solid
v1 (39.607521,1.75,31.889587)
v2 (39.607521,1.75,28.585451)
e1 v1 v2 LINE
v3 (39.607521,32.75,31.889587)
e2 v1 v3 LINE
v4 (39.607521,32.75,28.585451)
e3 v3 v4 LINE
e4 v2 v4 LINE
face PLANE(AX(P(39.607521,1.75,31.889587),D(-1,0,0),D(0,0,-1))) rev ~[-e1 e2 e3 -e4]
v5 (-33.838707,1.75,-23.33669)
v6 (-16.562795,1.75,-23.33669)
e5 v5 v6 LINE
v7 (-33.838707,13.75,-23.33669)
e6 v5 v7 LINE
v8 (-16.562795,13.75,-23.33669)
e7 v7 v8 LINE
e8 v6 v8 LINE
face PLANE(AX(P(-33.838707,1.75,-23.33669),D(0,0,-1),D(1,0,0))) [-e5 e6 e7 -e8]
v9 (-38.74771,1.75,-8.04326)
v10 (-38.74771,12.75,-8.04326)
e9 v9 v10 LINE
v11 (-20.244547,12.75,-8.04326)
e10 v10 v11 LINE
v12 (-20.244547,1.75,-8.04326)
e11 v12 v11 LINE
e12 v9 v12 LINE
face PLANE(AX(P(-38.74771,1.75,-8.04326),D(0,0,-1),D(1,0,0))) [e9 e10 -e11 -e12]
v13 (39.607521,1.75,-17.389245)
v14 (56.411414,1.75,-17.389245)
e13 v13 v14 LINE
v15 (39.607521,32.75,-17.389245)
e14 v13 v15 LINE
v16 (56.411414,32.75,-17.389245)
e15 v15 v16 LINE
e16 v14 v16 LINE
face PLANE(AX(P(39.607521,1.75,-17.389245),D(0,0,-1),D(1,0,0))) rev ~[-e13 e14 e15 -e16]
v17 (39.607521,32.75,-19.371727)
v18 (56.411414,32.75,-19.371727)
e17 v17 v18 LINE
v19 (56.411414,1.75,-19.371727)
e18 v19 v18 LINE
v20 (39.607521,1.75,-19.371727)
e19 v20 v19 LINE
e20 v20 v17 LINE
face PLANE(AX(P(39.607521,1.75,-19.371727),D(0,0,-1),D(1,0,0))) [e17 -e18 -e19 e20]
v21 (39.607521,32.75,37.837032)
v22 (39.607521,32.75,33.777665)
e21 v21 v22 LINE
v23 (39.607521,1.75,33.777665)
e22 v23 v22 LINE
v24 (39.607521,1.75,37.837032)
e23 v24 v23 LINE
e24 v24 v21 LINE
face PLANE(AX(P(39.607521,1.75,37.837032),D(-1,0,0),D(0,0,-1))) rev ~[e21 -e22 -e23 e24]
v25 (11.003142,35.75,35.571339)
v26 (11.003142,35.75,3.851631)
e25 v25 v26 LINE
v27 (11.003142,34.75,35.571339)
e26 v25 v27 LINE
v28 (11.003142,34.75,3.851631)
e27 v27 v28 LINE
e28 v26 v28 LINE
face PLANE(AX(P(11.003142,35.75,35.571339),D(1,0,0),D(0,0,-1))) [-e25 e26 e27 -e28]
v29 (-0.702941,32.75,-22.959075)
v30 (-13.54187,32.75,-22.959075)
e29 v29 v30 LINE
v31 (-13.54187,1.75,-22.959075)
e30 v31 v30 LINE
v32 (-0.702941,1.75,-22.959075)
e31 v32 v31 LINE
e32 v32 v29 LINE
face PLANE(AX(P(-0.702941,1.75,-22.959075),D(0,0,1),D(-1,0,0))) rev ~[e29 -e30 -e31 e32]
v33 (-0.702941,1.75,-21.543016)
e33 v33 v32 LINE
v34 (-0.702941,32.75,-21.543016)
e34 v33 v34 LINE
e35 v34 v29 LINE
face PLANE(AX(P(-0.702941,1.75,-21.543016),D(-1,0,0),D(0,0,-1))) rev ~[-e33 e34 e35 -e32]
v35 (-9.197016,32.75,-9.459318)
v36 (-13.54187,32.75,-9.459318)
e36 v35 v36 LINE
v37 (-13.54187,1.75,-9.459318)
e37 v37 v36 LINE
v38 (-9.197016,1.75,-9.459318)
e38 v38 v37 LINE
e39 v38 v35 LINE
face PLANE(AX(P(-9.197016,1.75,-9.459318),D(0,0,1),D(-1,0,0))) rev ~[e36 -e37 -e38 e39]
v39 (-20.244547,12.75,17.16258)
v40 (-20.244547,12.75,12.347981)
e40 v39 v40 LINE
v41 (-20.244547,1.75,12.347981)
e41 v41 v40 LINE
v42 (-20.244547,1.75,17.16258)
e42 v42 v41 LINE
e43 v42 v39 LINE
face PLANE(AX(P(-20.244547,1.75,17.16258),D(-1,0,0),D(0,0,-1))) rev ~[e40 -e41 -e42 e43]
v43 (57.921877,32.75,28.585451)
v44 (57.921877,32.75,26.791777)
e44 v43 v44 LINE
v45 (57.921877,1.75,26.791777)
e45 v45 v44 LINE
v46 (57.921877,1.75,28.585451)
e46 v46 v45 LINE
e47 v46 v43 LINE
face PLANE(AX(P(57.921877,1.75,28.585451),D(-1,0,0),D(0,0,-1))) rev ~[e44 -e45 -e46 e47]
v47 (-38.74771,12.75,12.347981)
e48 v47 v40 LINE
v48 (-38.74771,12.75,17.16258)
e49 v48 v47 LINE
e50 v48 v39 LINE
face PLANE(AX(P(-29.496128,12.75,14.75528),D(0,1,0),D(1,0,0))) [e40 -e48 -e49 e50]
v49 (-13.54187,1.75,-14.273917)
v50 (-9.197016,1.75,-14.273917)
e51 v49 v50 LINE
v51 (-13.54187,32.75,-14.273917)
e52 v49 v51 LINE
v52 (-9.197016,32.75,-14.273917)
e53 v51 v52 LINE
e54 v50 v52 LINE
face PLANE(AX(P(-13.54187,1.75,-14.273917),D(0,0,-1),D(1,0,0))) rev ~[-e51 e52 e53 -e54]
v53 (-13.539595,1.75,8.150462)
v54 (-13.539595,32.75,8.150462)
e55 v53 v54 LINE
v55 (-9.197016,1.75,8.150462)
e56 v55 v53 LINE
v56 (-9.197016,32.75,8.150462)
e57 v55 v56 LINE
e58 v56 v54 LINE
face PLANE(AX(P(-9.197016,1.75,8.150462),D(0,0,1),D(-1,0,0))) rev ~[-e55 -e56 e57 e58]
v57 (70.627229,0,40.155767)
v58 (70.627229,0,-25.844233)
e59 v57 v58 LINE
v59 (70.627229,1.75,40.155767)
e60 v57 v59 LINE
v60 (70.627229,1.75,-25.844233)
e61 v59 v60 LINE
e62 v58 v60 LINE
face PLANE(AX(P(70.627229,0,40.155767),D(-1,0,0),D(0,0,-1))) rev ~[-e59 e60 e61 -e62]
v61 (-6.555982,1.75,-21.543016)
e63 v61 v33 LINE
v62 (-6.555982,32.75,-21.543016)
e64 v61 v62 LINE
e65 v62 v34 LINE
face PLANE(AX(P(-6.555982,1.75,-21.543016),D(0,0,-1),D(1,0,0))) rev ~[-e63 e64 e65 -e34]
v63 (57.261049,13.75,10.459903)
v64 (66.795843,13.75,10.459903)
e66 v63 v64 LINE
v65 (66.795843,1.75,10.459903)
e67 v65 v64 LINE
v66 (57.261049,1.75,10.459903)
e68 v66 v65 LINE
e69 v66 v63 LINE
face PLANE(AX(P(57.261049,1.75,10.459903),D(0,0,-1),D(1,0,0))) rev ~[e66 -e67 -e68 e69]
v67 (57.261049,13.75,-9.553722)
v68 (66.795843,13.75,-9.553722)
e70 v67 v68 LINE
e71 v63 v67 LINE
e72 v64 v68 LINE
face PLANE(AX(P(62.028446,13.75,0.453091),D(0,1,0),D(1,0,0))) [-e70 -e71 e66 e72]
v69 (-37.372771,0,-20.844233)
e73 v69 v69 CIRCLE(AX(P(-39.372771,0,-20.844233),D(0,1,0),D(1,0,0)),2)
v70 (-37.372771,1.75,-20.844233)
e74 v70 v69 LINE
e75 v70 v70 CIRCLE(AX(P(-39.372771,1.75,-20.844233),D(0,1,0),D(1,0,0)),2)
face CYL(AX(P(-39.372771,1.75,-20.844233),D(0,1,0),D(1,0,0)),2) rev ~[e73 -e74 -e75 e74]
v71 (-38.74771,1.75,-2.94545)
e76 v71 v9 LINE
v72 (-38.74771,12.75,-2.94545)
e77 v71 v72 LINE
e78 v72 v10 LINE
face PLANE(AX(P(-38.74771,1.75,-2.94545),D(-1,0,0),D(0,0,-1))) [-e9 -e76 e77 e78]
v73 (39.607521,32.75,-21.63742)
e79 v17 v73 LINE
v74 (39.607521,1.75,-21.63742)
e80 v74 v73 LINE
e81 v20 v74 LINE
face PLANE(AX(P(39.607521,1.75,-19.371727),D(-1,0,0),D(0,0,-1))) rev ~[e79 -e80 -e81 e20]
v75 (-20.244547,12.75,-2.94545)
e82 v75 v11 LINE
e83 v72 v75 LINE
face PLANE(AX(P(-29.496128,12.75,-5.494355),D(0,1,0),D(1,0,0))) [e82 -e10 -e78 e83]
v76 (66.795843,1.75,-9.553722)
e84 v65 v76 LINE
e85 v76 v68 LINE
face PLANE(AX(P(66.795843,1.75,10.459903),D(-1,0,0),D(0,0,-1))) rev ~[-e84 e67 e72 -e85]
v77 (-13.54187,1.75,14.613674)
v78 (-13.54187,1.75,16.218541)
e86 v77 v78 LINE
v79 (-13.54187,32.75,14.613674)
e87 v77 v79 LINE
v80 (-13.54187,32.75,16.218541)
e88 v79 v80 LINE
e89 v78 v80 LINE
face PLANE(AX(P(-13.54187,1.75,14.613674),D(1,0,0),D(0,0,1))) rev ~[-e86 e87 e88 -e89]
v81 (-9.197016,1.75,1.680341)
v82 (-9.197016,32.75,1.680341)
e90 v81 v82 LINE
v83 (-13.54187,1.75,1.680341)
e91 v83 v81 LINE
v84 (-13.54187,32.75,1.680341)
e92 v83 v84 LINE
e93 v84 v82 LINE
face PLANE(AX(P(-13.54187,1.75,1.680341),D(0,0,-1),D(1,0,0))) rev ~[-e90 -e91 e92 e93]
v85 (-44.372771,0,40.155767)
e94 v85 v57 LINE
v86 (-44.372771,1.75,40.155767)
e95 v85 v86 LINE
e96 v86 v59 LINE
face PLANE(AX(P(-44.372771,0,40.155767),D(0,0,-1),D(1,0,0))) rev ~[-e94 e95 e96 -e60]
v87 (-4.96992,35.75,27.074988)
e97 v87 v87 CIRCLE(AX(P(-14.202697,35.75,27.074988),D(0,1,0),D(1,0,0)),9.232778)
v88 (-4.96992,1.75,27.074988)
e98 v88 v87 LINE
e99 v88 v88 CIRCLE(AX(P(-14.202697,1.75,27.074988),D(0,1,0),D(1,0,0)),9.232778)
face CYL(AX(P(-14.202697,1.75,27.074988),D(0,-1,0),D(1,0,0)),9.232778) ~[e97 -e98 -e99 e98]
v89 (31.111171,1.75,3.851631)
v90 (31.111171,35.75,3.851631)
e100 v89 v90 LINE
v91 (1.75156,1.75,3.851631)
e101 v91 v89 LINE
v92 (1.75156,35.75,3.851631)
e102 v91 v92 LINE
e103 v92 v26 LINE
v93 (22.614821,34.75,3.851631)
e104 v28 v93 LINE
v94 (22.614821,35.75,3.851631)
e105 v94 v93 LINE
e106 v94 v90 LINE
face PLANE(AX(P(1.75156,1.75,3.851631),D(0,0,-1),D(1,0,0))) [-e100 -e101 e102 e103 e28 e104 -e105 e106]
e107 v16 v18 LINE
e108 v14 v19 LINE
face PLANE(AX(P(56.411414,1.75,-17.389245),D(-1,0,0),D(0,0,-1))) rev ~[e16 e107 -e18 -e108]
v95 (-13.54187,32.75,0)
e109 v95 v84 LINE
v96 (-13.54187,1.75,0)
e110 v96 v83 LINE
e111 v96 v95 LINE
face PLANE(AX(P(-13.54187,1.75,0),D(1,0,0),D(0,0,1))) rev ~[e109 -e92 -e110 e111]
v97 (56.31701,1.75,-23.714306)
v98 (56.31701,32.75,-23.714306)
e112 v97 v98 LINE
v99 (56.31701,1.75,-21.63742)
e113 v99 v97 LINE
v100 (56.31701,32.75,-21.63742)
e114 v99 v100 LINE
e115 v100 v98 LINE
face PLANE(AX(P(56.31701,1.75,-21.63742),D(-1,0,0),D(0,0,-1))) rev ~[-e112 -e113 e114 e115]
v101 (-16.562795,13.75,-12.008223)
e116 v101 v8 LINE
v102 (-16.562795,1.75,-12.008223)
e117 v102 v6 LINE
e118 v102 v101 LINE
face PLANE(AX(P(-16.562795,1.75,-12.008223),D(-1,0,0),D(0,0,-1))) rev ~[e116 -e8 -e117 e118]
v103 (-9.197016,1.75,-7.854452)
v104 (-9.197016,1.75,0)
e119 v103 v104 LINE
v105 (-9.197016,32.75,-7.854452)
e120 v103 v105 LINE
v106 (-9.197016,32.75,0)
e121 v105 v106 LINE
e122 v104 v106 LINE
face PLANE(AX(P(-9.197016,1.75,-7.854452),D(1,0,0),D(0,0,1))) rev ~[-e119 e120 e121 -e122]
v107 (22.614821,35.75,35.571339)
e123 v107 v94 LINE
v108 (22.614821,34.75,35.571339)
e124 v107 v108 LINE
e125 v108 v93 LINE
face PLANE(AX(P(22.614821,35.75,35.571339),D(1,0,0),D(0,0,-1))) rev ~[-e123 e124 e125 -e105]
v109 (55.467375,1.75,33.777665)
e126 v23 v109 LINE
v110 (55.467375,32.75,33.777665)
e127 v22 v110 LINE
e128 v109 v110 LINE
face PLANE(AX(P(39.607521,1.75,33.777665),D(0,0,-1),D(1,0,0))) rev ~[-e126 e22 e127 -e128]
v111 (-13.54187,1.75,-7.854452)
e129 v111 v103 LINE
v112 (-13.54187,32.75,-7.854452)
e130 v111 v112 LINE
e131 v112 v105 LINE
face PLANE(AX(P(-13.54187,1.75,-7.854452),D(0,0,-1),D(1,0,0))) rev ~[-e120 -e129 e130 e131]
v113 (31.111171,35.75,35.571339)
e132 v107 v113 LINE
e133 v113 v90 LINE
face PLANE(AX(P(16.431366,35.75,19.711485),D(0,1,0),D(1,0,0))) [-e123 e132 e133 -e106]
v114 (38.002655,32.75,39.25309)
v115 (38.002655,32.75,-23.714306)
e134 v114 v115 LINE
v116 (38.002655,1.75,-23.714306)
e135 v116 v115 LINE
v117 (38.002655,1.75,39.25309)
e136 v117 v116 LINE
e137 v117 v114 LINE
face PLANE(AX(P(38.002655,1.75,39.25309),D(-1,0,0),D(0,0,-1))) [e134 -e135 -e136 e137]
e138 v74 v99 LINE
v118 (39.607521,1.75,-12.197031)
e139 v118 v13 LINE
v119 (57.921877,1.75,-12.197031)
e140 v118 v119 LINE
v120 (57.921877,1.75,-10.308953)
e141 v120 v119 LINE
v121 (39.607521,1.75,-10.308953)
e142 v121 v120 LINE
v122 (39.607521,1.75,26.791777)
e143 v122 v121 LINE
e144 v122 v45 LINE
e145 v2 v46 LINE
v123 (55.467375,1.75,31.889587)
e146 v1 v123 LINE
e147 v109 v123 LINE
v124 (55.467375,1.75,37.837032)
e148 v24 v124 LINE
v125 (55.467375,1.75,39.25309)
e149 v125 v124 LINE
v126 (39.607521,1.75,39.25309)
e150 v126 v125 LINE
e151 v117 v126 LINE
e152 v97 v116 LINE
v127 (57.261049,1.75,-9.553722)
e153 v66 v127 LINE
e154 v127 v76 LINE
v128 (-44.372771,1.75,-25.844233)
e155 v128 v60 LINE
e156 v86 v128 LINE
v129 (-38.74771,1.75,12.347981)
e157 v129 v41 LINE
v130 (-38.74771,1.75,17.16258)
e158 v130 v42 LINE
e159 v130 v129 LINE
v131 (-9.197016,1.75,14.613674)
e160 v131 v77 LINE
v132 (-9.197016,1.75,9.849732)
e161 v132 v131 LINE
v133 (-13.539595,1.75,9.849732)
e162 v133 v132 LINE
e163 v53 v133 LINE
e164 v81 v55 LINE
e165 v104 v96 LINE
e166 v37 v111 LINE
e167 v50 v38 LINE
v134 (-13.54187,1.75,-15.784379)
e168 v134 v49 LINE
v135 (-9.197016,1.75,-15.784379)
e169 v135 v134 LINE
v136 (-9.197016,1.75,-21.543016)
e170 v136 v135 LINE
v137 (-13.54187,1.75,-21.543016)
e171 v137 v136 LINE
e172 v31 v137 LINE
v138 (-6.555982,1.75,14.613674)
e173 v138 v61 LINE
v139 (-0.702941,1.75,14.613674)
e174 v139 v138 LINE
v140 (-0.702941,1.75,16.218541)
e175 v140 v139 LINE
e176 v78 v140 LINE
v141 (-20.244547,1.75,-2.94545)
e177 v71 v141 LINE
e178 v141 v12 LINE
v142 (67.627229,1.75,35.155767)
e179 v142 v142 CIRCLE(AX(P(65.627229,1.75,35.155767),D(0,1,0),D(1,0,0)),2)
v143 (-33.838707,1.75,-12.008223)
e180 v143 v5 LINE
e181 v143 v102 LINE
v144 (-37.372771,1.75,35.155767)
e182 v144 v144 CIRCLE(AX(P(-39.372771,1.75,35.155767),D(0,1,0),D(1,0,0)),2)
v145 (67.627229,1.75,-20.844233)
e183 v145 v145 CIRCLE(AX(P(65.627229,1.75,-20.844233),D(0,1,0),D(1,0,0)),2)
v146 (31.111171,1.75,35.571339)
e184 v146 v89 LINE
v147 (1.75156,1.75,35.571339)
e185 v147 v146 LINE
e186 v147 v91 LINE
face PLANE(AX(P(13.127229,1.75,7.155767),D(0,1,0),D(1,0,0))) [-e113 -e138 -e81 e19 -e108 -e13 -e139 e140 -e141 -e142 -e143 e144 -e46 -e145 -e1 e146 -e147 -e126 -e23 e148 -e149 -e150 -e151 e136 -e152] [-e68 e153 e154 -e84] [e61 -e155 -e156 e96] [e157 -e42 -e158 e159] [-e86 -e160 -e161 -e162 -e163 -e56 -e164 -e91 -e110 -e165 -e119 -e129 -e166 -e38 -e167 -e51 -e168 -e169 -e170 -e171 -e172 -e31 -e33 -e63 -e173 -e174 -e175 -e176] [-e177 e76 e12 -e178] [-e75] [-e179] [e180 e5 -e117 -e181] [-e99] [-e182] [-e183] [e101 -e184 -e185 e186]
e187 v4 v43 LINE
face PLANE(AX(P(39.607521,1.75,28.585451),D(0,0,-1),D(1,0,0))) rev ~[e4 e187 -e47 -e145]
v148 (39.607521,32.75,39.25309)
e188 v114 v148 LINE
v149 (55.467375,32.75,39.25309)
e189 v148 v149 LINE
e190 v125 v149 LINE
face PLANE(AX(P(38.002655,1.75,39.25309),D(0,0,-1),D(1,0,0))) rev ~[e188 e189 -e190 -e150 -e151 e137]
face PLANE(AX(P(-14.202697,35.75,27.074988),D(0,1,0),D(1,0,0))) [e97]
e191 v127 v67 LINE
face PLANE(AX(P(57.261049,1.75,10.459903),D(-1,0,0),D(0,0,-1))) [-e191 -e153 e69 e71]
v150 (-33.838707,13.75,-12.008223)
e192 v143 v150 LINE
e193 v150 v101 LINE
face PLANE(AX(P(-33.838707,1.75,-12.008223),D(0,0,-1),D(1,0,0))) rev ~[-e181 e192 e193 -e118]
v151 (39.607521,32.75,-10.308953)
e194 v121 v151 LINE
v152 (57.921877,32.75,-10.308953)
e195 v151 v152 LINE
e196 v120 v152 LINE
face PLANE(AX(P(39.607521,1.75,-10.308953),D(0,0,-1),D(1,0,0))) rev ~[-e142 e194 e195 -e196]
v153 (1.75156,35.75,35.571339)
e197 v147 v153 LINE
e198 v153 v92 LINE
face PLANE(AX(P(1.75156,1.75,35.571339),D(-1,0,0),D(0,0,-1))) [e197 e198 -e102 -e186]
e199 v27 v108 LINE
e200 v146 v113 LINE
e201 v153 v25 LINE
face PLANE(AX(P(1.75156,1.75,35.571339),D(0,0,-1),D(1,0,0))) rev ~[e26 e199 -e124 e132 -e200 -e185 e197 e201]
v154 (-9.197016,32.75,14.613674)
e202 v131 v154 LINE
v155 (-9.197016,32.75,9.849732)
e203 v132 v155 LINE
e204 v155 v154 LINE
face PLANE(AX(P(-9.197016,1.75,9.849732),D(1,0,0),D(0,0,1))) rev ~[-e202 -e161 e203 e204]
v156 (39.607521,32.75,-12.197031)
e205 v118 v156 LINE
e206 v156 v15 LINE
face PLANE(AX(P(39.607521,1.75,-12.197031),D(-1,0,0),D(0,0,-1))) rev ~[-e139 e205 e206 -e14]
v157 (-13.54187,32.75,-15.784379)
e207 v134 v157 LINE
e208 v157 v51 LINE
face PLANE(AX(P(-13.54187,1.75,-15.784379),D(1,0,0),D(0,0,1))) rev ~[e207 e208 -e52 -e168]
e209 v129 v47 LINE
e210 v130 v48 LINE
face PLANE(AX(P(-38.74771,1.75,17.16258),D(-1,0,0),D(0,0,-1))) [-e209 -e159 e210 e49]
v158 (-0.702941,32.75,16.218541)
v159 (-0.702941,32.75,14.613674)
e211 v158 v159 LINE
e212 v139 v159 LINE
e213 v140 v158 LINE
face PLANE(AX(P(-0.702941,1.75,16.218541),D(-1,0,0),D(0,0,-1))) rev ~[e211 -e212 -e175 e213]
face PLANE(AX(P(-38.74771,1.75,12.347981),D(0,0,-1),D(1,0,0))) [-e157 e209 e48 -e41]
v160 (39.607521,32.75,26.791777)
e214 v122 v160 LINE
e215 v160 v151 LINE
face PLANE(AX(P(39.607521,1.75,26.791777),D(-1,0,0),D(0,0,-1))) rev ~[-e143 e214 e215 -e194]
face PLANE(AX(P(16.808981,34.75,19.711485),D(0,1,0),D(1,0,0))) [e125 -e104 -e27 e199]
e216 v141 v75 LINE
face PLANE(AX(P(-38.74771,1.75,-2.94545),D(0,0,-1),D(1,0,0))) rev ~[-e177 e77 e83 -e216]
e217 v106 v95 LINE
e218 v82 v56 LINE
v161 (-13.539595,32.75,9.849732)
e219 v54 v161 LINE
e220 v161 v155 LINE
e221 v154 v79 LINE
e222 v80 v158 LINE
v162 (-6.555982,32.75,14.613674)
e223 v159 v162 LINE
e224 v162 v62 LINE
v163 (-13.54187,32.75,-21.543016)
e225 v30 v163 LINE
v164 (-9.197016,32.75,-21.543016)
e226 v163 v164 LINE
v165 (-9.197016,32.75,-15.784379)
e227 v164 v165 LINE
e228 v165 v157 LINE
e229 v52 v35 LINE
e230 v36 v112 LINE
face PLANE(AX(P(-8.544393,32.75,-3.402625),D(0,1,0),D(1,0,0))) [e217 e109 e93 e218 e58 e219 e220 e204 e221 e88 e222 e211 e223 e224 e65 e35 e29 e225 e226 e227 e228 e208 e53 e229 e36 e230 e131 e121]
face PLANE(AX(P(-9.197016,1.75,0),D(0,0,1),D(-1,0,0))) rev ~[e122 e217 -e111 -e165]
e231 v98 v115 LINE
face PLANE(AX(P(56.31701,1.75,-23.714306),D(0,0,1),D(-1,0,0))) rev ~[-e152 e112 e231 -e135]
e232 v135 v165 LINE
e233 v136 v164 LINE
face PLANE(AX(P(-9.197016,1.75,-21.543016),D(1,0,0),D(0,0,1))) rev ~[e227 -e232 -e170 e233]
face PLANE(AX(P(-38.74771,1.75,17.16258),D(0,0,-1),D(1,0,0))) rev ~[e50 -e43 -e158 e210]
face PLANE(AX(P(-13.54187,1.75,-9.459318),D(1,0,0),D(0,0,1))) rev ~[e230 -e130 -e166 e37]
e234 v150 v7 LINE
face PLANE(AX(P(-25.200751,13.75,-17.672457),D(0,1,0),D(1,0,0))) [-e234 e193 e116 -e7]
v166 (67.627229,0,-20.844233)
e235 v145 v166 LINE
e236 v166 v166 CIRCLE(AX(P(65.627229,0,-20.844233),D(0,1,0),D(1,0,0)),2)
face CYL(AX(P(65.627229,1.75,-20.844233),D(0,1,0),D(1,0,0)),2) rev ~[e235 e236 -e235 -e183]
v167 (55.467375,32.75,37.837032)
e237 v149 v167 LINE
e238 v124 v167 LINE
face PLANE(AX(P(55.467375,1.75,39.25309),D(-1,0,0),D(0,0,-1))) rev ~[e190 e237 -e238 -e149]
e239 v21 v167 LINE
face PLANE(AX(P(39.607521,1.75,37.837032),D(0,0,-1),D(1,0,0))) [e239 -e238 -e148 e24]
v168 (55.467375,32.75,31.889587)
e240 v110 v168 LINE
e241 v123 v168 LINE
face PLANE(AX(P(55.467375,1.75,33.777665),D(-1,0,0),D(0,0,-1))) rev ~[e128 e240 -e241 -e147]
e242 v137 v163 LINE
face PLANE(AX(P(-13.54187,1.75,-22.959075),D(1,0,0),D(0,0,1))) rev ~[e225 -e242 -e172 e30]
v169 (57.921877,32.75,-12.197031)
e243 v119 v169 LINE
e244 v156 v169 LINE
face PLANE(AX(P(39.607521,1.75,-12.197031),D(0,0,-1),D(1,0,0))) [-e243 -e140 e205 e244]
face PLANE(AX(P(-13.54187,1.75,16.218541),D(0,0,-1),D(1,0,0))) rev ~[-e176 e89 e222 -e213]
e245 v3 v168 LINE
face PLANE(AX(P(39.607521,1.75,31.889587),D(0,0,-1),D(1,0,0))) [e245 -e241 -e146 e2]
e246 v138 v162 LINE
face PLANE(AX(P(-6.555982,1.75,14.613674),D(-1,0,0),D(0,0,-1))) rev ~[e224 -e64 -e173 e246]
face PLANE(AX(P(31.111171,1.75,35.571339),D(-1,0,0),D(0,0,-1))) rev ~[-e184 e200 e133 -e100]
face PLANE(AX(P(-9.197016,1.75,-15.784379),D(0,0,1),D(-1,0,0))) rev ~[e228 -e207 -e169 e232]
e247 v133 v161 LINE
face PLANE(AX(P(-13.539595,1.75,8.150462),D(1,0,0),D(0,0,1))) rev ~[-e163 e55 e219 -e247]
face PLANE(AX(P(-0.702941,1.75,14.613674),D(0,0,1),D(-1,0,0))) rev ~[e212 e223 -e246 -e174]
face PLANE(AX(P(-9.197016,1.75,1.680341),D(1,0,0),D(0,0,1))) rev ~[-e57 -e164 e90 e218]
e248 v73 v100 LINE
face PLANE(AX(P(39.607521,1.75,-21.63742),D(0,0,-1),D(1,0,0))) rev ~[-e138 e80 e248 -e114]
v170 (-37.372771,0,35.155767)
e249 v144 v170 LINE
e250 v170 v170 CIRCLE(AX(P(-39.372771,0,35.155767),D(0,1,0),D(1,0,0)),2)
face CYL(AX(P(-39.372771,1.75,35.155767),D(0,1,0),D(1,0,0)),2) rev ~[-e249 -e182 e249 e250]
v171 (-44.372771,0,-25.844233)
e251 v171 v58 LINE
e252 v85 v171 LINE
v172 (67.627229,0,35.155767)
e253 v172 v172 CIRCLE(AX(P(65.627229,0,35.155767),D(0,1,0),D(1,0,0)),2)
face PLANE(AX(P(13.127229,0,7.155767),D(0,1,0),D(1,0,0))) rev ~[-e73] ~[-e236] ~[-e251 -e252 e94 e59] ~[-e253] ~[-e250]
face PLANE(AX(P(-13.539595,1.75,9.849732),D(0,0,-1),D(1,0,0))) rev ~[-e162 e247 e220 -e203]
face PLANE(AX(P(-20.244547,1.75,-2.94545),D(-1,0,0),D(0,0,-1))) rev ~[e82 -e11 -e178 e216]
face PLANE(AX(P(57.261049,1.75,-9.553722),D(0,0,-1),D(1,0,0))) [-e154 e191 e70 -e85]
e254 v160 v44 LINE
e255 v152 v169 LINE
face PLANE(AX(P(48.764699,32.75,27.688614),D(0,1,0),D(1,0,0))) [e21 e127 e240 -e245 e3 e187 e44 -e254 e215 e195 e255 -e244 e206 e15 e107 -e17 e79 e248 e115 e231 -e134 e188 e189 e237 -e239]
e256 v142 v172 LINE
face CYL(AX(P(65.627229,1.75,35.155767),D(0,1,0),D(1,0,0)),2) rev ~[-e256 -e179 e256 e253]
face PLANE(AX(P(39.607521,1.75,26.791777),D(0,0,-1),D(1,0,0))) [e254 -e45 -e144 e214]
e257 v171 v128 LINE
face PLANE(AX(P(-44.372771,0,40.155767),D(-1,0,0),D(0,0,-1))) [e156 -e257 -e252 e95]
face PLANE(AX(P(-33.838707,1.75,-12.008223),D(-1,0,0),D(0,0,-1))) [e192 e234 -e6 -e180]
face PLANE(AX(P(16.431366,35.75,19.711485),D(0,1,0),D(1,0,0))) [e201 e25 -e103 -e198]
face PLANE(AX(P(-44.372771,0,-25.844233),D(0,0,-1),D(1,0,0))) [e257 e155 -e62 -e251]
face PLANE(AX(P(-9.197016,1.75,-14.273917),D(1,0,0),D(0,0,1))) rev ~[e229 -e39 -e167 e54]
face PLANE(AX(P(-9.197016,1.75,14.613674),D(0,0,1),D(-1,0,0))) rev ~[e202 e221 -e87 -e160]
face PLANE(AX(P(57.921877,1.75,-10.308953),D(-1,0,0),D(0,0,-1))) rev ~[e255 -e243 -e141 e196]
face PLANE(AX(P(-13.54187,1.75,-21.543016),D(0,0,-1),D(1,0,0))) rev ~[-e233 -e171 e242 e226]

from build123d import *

# Parameters (mm, degrees)
SKETCH1_W           = 115
SKETCH1_H           = 66
BOSS_EXTRUDE1_DEPTH = 1.75
SKETCH2_R           = 2
CUT_EXTRUDE1_DEPTH  = 1.75
SKETCH3_W           = 17.275912382
SKETCH3_H           = 11.328467136
BOSS_EXTRUDE2_DEPTH = 12
SKETCH4_W           = 29.359610659
SKETCH4_H           = 31.719707979
BOSS_EXTRUDE3_DEPTH = 34
SKETCH5_R           = 9.232777937
BOSS_EXTRUDE4_DEPTH = 34
SKETCH6_W           = 9.534793173
SKETCH6_H           = 20.013625273
BOSS_EXTRUDE5_DEPTH = 12
SKETCH7_W           = 18.314355202
SKETCH7_H           = 1.793673963
SKETCH7_W_2         = 1.604866178
SKETCH7_H_2         = 62.967396494
SKETCH7_W_3         = 15.859853989
SKETCH7_H_3         = 1.888077856
SKETCH7_H_4         = 1.416058391
SKETCH7_W_4         = 16.709489025
SKETCH7_H_5         = 2.076885642
SKETCH7_W_5         = 16.803892917
SKETCH7_H_6         = 1.982481748
BOSS_EXTRUDE6_DEPTH = 31
BOSS_EXTRUDE7_DEPTH = 31
SKETCH9_W           = 11.611678814
SKETCH9_H           = 31.719707979
CUT_EXTRUDE2_DEPTH  = 1
SKETCH11_W          = 18.503162988
SKETCH11_H          = 5.097810211
SKETCH11_H_2        = 4.814598532
BOSS_EXTRUDE8_DEPTH = 11


with BuildPart() as part:
    # Sketch1 → Boss-Extrude1 (new body)
    with BuildSketch(Plane(origin=(0, 0, 0), x_dir=(1, 0, 0), z_dir=(0, 1, 0))):
        with Locations((13.127229489, -7.155766944)):
            Rectangle(SKETCH1_W, SKETCH1_H)
    extrude(amount=BOSS_EXTRUDE1_DEPTH)

    # Sketch2 → Cut-Extrude1 (cut)
    with BuildSketch(Plane(origin=(0, 1.75, 0), x_dir=(1, 0, 0), z_dir=(0, 1, 0))):
        with Locations((65.627229489, 20.844233056)):
            Circle(SKETCH2_R)
        with Locations((65.627229489, -35.155766944)):
            Circle(SKETCH2_R)
        with Locations((-39.372770511, 20.844233056)):
            Circle(SKETCH2_R)
        with Locations((-39.372770511, -35.155766944)):
            Circle(SKETCH2_R)
    extrude(amount=-CUT_EXTRUDE1_DEPTH, mode=Mode.SUBTRACT)

    # Sketch3 → Boss-Extrude2 (add)
    with BuildSketch(Plane(origin=(0, 1.75, 0), x_dir=(1, 0, 0), z_dir=(0, 1, 0))):
        with Locations((-25.200750986, 17.672456861)):
            Rectangle(SKETCH3_W, SKETCH3_H)
    extrude(amount=BOSS_EXTRUDE2_DEPTH)

    # Sketch4 → Boss-Extrude3 (add)
    with BuildSketch(Plane(origin=(0, 1.75, 0), x_dir=(1, 0, 0), z_dir=(0, 1, 0))):
        with Locations((16.431365737, -19.711484686)):
            Rectangle(SKETCH4_W, SKETCH4_H)
    extrude(amount=BOSS_EXTRUDE3_DEPTH)

    # Sketch5 → Boss-Extrude4 (add)
    with BuildSketch(Plane(origin=(0, 1.75, 0), x_dir=(1, 0, 0), z_dir=(0, 1, 0))):
        with Locations((-14.202697476, -27.074988324)):
            Circle(SKETCH5_R)
    extrude(amount=BOSS_EXTRUDE4_DEPTH)

    # Sketch6 → Boss-Extrude5 (add)
    with BuildSketch(Plane(origin=(0, 1.75, 0), x_dir=(1, 0, 0), z_dir=(0, 1, 0))):
        with Locations((62.028445957, -0.453090556)):
            Rectangle(SKETCH6_W, SKETCH6_H)
    extrude(amount=BOSS_EXTRUDE5_DEPTH)

    # Sketch7 → Boss-Extrude6 (add)
    with BuildSketch(Plane(origin=(0, 1.75, 0), x_dir=(1, 0, 0), z_dir=(0, 1, 0))):
        with Locations((48.764699019, -27.688613628)):
            Rectangle(SKETCH7_W, SKETCH7_H)
        with Locations((38.805088329, -7.769392247)):
            Rectangle(SKETCH7_W_2, SKETCH7_H_2)
        with Locations((47.537448413, -32.833625784)):
            Rectangle(SKETCH7_W_3, SKETCH7_H_3)
        with Locations((47.537448413, -38.545061299)):
            Rectangle(SKETCH7_W_3, SKETCH7_H_4)
        with Locations((48.764699019, 11.252992151)):
            Rectangle(SKETCH7_W, SKETCH7_H_3)
        with Locations((47.962265931, 22.675863179)):
            Rectangle(SKETCH7_W_4, SKETCH7_H_5)
        with Locations((48.009467877, 18.380486057)):
            Rectangle(SKETCH7_W_5, SKETCH7_H_6)
    extrude(amount=BOSS_EXTRUDE6_DEPTH)

    # Sketch8 → Boss-Extrude7 (add)
    with BuildSketch(Plane(origin=(0, 1.75, 0), x_dir=(1, 0, 0), z_dir=(0, 1, 0))):
        Polygon((-13.541870226, 21.543016466), (-9.197015675, 21.543016466), (-9.197015675, 15.784379005), (-13.541870226, 15.784379005), (-13.541870226, 14.27391672), (-9.197015675, 14.27391672), (-9.197015675, 9.459318188), (-13.541870226, 9.459318188), (-13.541870226, 7.85445201), (-9.197015675, 7.85445201), (-9.197015675, 0), (-13.541870226, 0), (-13.541870226, -1.680341162), (-9.197015675, -1.680341162), (-9.197015675, -8.150462062), (-13.539594744, -8.150462062), (-13.539594744, -9.849732132), (-9.197015675, -9.849732132), (-9.197015675, -14.613674475), (-13.541870226, -14.613674475), (-13.541870226, -16.218540652), (-0.702940806, -16.218540652), (-0.702940806, -14.613674475), (-6.555982159, -14.613674475), (-6.555982159, 21.543016466), (-0.702940806, 21.543016466), (-0.702940806, 22.959074858), (-13.541870226, 22.959074858), align=None)
    extrude(amount=BOSS_EXTRUDE7_DEPTH)

    # Sketch9 → Cut-Extrude2 (cut)
    with BuildSketch(Plane(origin=(0, 35.75, 0), x_dir=(1, 0, 0), z_dir=(0, 1, 0))):
        with Locations((16.808981308, -19.711484686)):
            Rectangle(SKETCH9_W, SKETCH9_H)
    extrude(amount=-CUT_EXTRUDE2_DEPTH, mode=Mode.SUBTRACT)

    # Sketch11 → Boss-Extrude8 (add)
    with BuildSketch(Plane(origin=(0, 1.75, 0), x_dir=(1, 0, 0), z_dir=(0, 1, 0))):
        with Locations((-29.496128108, 5.494354691)):
            Rectangle(SKETCH11_W, SKETCH11_H)
        with Locations((-29.496128108, -14.755280314)):
            Rectangle(SKETCH11_W, SKETCH11_H_2)
    extrude(amount=BOSS_EXTRUDE8_DEPTH)


solid = part.part
